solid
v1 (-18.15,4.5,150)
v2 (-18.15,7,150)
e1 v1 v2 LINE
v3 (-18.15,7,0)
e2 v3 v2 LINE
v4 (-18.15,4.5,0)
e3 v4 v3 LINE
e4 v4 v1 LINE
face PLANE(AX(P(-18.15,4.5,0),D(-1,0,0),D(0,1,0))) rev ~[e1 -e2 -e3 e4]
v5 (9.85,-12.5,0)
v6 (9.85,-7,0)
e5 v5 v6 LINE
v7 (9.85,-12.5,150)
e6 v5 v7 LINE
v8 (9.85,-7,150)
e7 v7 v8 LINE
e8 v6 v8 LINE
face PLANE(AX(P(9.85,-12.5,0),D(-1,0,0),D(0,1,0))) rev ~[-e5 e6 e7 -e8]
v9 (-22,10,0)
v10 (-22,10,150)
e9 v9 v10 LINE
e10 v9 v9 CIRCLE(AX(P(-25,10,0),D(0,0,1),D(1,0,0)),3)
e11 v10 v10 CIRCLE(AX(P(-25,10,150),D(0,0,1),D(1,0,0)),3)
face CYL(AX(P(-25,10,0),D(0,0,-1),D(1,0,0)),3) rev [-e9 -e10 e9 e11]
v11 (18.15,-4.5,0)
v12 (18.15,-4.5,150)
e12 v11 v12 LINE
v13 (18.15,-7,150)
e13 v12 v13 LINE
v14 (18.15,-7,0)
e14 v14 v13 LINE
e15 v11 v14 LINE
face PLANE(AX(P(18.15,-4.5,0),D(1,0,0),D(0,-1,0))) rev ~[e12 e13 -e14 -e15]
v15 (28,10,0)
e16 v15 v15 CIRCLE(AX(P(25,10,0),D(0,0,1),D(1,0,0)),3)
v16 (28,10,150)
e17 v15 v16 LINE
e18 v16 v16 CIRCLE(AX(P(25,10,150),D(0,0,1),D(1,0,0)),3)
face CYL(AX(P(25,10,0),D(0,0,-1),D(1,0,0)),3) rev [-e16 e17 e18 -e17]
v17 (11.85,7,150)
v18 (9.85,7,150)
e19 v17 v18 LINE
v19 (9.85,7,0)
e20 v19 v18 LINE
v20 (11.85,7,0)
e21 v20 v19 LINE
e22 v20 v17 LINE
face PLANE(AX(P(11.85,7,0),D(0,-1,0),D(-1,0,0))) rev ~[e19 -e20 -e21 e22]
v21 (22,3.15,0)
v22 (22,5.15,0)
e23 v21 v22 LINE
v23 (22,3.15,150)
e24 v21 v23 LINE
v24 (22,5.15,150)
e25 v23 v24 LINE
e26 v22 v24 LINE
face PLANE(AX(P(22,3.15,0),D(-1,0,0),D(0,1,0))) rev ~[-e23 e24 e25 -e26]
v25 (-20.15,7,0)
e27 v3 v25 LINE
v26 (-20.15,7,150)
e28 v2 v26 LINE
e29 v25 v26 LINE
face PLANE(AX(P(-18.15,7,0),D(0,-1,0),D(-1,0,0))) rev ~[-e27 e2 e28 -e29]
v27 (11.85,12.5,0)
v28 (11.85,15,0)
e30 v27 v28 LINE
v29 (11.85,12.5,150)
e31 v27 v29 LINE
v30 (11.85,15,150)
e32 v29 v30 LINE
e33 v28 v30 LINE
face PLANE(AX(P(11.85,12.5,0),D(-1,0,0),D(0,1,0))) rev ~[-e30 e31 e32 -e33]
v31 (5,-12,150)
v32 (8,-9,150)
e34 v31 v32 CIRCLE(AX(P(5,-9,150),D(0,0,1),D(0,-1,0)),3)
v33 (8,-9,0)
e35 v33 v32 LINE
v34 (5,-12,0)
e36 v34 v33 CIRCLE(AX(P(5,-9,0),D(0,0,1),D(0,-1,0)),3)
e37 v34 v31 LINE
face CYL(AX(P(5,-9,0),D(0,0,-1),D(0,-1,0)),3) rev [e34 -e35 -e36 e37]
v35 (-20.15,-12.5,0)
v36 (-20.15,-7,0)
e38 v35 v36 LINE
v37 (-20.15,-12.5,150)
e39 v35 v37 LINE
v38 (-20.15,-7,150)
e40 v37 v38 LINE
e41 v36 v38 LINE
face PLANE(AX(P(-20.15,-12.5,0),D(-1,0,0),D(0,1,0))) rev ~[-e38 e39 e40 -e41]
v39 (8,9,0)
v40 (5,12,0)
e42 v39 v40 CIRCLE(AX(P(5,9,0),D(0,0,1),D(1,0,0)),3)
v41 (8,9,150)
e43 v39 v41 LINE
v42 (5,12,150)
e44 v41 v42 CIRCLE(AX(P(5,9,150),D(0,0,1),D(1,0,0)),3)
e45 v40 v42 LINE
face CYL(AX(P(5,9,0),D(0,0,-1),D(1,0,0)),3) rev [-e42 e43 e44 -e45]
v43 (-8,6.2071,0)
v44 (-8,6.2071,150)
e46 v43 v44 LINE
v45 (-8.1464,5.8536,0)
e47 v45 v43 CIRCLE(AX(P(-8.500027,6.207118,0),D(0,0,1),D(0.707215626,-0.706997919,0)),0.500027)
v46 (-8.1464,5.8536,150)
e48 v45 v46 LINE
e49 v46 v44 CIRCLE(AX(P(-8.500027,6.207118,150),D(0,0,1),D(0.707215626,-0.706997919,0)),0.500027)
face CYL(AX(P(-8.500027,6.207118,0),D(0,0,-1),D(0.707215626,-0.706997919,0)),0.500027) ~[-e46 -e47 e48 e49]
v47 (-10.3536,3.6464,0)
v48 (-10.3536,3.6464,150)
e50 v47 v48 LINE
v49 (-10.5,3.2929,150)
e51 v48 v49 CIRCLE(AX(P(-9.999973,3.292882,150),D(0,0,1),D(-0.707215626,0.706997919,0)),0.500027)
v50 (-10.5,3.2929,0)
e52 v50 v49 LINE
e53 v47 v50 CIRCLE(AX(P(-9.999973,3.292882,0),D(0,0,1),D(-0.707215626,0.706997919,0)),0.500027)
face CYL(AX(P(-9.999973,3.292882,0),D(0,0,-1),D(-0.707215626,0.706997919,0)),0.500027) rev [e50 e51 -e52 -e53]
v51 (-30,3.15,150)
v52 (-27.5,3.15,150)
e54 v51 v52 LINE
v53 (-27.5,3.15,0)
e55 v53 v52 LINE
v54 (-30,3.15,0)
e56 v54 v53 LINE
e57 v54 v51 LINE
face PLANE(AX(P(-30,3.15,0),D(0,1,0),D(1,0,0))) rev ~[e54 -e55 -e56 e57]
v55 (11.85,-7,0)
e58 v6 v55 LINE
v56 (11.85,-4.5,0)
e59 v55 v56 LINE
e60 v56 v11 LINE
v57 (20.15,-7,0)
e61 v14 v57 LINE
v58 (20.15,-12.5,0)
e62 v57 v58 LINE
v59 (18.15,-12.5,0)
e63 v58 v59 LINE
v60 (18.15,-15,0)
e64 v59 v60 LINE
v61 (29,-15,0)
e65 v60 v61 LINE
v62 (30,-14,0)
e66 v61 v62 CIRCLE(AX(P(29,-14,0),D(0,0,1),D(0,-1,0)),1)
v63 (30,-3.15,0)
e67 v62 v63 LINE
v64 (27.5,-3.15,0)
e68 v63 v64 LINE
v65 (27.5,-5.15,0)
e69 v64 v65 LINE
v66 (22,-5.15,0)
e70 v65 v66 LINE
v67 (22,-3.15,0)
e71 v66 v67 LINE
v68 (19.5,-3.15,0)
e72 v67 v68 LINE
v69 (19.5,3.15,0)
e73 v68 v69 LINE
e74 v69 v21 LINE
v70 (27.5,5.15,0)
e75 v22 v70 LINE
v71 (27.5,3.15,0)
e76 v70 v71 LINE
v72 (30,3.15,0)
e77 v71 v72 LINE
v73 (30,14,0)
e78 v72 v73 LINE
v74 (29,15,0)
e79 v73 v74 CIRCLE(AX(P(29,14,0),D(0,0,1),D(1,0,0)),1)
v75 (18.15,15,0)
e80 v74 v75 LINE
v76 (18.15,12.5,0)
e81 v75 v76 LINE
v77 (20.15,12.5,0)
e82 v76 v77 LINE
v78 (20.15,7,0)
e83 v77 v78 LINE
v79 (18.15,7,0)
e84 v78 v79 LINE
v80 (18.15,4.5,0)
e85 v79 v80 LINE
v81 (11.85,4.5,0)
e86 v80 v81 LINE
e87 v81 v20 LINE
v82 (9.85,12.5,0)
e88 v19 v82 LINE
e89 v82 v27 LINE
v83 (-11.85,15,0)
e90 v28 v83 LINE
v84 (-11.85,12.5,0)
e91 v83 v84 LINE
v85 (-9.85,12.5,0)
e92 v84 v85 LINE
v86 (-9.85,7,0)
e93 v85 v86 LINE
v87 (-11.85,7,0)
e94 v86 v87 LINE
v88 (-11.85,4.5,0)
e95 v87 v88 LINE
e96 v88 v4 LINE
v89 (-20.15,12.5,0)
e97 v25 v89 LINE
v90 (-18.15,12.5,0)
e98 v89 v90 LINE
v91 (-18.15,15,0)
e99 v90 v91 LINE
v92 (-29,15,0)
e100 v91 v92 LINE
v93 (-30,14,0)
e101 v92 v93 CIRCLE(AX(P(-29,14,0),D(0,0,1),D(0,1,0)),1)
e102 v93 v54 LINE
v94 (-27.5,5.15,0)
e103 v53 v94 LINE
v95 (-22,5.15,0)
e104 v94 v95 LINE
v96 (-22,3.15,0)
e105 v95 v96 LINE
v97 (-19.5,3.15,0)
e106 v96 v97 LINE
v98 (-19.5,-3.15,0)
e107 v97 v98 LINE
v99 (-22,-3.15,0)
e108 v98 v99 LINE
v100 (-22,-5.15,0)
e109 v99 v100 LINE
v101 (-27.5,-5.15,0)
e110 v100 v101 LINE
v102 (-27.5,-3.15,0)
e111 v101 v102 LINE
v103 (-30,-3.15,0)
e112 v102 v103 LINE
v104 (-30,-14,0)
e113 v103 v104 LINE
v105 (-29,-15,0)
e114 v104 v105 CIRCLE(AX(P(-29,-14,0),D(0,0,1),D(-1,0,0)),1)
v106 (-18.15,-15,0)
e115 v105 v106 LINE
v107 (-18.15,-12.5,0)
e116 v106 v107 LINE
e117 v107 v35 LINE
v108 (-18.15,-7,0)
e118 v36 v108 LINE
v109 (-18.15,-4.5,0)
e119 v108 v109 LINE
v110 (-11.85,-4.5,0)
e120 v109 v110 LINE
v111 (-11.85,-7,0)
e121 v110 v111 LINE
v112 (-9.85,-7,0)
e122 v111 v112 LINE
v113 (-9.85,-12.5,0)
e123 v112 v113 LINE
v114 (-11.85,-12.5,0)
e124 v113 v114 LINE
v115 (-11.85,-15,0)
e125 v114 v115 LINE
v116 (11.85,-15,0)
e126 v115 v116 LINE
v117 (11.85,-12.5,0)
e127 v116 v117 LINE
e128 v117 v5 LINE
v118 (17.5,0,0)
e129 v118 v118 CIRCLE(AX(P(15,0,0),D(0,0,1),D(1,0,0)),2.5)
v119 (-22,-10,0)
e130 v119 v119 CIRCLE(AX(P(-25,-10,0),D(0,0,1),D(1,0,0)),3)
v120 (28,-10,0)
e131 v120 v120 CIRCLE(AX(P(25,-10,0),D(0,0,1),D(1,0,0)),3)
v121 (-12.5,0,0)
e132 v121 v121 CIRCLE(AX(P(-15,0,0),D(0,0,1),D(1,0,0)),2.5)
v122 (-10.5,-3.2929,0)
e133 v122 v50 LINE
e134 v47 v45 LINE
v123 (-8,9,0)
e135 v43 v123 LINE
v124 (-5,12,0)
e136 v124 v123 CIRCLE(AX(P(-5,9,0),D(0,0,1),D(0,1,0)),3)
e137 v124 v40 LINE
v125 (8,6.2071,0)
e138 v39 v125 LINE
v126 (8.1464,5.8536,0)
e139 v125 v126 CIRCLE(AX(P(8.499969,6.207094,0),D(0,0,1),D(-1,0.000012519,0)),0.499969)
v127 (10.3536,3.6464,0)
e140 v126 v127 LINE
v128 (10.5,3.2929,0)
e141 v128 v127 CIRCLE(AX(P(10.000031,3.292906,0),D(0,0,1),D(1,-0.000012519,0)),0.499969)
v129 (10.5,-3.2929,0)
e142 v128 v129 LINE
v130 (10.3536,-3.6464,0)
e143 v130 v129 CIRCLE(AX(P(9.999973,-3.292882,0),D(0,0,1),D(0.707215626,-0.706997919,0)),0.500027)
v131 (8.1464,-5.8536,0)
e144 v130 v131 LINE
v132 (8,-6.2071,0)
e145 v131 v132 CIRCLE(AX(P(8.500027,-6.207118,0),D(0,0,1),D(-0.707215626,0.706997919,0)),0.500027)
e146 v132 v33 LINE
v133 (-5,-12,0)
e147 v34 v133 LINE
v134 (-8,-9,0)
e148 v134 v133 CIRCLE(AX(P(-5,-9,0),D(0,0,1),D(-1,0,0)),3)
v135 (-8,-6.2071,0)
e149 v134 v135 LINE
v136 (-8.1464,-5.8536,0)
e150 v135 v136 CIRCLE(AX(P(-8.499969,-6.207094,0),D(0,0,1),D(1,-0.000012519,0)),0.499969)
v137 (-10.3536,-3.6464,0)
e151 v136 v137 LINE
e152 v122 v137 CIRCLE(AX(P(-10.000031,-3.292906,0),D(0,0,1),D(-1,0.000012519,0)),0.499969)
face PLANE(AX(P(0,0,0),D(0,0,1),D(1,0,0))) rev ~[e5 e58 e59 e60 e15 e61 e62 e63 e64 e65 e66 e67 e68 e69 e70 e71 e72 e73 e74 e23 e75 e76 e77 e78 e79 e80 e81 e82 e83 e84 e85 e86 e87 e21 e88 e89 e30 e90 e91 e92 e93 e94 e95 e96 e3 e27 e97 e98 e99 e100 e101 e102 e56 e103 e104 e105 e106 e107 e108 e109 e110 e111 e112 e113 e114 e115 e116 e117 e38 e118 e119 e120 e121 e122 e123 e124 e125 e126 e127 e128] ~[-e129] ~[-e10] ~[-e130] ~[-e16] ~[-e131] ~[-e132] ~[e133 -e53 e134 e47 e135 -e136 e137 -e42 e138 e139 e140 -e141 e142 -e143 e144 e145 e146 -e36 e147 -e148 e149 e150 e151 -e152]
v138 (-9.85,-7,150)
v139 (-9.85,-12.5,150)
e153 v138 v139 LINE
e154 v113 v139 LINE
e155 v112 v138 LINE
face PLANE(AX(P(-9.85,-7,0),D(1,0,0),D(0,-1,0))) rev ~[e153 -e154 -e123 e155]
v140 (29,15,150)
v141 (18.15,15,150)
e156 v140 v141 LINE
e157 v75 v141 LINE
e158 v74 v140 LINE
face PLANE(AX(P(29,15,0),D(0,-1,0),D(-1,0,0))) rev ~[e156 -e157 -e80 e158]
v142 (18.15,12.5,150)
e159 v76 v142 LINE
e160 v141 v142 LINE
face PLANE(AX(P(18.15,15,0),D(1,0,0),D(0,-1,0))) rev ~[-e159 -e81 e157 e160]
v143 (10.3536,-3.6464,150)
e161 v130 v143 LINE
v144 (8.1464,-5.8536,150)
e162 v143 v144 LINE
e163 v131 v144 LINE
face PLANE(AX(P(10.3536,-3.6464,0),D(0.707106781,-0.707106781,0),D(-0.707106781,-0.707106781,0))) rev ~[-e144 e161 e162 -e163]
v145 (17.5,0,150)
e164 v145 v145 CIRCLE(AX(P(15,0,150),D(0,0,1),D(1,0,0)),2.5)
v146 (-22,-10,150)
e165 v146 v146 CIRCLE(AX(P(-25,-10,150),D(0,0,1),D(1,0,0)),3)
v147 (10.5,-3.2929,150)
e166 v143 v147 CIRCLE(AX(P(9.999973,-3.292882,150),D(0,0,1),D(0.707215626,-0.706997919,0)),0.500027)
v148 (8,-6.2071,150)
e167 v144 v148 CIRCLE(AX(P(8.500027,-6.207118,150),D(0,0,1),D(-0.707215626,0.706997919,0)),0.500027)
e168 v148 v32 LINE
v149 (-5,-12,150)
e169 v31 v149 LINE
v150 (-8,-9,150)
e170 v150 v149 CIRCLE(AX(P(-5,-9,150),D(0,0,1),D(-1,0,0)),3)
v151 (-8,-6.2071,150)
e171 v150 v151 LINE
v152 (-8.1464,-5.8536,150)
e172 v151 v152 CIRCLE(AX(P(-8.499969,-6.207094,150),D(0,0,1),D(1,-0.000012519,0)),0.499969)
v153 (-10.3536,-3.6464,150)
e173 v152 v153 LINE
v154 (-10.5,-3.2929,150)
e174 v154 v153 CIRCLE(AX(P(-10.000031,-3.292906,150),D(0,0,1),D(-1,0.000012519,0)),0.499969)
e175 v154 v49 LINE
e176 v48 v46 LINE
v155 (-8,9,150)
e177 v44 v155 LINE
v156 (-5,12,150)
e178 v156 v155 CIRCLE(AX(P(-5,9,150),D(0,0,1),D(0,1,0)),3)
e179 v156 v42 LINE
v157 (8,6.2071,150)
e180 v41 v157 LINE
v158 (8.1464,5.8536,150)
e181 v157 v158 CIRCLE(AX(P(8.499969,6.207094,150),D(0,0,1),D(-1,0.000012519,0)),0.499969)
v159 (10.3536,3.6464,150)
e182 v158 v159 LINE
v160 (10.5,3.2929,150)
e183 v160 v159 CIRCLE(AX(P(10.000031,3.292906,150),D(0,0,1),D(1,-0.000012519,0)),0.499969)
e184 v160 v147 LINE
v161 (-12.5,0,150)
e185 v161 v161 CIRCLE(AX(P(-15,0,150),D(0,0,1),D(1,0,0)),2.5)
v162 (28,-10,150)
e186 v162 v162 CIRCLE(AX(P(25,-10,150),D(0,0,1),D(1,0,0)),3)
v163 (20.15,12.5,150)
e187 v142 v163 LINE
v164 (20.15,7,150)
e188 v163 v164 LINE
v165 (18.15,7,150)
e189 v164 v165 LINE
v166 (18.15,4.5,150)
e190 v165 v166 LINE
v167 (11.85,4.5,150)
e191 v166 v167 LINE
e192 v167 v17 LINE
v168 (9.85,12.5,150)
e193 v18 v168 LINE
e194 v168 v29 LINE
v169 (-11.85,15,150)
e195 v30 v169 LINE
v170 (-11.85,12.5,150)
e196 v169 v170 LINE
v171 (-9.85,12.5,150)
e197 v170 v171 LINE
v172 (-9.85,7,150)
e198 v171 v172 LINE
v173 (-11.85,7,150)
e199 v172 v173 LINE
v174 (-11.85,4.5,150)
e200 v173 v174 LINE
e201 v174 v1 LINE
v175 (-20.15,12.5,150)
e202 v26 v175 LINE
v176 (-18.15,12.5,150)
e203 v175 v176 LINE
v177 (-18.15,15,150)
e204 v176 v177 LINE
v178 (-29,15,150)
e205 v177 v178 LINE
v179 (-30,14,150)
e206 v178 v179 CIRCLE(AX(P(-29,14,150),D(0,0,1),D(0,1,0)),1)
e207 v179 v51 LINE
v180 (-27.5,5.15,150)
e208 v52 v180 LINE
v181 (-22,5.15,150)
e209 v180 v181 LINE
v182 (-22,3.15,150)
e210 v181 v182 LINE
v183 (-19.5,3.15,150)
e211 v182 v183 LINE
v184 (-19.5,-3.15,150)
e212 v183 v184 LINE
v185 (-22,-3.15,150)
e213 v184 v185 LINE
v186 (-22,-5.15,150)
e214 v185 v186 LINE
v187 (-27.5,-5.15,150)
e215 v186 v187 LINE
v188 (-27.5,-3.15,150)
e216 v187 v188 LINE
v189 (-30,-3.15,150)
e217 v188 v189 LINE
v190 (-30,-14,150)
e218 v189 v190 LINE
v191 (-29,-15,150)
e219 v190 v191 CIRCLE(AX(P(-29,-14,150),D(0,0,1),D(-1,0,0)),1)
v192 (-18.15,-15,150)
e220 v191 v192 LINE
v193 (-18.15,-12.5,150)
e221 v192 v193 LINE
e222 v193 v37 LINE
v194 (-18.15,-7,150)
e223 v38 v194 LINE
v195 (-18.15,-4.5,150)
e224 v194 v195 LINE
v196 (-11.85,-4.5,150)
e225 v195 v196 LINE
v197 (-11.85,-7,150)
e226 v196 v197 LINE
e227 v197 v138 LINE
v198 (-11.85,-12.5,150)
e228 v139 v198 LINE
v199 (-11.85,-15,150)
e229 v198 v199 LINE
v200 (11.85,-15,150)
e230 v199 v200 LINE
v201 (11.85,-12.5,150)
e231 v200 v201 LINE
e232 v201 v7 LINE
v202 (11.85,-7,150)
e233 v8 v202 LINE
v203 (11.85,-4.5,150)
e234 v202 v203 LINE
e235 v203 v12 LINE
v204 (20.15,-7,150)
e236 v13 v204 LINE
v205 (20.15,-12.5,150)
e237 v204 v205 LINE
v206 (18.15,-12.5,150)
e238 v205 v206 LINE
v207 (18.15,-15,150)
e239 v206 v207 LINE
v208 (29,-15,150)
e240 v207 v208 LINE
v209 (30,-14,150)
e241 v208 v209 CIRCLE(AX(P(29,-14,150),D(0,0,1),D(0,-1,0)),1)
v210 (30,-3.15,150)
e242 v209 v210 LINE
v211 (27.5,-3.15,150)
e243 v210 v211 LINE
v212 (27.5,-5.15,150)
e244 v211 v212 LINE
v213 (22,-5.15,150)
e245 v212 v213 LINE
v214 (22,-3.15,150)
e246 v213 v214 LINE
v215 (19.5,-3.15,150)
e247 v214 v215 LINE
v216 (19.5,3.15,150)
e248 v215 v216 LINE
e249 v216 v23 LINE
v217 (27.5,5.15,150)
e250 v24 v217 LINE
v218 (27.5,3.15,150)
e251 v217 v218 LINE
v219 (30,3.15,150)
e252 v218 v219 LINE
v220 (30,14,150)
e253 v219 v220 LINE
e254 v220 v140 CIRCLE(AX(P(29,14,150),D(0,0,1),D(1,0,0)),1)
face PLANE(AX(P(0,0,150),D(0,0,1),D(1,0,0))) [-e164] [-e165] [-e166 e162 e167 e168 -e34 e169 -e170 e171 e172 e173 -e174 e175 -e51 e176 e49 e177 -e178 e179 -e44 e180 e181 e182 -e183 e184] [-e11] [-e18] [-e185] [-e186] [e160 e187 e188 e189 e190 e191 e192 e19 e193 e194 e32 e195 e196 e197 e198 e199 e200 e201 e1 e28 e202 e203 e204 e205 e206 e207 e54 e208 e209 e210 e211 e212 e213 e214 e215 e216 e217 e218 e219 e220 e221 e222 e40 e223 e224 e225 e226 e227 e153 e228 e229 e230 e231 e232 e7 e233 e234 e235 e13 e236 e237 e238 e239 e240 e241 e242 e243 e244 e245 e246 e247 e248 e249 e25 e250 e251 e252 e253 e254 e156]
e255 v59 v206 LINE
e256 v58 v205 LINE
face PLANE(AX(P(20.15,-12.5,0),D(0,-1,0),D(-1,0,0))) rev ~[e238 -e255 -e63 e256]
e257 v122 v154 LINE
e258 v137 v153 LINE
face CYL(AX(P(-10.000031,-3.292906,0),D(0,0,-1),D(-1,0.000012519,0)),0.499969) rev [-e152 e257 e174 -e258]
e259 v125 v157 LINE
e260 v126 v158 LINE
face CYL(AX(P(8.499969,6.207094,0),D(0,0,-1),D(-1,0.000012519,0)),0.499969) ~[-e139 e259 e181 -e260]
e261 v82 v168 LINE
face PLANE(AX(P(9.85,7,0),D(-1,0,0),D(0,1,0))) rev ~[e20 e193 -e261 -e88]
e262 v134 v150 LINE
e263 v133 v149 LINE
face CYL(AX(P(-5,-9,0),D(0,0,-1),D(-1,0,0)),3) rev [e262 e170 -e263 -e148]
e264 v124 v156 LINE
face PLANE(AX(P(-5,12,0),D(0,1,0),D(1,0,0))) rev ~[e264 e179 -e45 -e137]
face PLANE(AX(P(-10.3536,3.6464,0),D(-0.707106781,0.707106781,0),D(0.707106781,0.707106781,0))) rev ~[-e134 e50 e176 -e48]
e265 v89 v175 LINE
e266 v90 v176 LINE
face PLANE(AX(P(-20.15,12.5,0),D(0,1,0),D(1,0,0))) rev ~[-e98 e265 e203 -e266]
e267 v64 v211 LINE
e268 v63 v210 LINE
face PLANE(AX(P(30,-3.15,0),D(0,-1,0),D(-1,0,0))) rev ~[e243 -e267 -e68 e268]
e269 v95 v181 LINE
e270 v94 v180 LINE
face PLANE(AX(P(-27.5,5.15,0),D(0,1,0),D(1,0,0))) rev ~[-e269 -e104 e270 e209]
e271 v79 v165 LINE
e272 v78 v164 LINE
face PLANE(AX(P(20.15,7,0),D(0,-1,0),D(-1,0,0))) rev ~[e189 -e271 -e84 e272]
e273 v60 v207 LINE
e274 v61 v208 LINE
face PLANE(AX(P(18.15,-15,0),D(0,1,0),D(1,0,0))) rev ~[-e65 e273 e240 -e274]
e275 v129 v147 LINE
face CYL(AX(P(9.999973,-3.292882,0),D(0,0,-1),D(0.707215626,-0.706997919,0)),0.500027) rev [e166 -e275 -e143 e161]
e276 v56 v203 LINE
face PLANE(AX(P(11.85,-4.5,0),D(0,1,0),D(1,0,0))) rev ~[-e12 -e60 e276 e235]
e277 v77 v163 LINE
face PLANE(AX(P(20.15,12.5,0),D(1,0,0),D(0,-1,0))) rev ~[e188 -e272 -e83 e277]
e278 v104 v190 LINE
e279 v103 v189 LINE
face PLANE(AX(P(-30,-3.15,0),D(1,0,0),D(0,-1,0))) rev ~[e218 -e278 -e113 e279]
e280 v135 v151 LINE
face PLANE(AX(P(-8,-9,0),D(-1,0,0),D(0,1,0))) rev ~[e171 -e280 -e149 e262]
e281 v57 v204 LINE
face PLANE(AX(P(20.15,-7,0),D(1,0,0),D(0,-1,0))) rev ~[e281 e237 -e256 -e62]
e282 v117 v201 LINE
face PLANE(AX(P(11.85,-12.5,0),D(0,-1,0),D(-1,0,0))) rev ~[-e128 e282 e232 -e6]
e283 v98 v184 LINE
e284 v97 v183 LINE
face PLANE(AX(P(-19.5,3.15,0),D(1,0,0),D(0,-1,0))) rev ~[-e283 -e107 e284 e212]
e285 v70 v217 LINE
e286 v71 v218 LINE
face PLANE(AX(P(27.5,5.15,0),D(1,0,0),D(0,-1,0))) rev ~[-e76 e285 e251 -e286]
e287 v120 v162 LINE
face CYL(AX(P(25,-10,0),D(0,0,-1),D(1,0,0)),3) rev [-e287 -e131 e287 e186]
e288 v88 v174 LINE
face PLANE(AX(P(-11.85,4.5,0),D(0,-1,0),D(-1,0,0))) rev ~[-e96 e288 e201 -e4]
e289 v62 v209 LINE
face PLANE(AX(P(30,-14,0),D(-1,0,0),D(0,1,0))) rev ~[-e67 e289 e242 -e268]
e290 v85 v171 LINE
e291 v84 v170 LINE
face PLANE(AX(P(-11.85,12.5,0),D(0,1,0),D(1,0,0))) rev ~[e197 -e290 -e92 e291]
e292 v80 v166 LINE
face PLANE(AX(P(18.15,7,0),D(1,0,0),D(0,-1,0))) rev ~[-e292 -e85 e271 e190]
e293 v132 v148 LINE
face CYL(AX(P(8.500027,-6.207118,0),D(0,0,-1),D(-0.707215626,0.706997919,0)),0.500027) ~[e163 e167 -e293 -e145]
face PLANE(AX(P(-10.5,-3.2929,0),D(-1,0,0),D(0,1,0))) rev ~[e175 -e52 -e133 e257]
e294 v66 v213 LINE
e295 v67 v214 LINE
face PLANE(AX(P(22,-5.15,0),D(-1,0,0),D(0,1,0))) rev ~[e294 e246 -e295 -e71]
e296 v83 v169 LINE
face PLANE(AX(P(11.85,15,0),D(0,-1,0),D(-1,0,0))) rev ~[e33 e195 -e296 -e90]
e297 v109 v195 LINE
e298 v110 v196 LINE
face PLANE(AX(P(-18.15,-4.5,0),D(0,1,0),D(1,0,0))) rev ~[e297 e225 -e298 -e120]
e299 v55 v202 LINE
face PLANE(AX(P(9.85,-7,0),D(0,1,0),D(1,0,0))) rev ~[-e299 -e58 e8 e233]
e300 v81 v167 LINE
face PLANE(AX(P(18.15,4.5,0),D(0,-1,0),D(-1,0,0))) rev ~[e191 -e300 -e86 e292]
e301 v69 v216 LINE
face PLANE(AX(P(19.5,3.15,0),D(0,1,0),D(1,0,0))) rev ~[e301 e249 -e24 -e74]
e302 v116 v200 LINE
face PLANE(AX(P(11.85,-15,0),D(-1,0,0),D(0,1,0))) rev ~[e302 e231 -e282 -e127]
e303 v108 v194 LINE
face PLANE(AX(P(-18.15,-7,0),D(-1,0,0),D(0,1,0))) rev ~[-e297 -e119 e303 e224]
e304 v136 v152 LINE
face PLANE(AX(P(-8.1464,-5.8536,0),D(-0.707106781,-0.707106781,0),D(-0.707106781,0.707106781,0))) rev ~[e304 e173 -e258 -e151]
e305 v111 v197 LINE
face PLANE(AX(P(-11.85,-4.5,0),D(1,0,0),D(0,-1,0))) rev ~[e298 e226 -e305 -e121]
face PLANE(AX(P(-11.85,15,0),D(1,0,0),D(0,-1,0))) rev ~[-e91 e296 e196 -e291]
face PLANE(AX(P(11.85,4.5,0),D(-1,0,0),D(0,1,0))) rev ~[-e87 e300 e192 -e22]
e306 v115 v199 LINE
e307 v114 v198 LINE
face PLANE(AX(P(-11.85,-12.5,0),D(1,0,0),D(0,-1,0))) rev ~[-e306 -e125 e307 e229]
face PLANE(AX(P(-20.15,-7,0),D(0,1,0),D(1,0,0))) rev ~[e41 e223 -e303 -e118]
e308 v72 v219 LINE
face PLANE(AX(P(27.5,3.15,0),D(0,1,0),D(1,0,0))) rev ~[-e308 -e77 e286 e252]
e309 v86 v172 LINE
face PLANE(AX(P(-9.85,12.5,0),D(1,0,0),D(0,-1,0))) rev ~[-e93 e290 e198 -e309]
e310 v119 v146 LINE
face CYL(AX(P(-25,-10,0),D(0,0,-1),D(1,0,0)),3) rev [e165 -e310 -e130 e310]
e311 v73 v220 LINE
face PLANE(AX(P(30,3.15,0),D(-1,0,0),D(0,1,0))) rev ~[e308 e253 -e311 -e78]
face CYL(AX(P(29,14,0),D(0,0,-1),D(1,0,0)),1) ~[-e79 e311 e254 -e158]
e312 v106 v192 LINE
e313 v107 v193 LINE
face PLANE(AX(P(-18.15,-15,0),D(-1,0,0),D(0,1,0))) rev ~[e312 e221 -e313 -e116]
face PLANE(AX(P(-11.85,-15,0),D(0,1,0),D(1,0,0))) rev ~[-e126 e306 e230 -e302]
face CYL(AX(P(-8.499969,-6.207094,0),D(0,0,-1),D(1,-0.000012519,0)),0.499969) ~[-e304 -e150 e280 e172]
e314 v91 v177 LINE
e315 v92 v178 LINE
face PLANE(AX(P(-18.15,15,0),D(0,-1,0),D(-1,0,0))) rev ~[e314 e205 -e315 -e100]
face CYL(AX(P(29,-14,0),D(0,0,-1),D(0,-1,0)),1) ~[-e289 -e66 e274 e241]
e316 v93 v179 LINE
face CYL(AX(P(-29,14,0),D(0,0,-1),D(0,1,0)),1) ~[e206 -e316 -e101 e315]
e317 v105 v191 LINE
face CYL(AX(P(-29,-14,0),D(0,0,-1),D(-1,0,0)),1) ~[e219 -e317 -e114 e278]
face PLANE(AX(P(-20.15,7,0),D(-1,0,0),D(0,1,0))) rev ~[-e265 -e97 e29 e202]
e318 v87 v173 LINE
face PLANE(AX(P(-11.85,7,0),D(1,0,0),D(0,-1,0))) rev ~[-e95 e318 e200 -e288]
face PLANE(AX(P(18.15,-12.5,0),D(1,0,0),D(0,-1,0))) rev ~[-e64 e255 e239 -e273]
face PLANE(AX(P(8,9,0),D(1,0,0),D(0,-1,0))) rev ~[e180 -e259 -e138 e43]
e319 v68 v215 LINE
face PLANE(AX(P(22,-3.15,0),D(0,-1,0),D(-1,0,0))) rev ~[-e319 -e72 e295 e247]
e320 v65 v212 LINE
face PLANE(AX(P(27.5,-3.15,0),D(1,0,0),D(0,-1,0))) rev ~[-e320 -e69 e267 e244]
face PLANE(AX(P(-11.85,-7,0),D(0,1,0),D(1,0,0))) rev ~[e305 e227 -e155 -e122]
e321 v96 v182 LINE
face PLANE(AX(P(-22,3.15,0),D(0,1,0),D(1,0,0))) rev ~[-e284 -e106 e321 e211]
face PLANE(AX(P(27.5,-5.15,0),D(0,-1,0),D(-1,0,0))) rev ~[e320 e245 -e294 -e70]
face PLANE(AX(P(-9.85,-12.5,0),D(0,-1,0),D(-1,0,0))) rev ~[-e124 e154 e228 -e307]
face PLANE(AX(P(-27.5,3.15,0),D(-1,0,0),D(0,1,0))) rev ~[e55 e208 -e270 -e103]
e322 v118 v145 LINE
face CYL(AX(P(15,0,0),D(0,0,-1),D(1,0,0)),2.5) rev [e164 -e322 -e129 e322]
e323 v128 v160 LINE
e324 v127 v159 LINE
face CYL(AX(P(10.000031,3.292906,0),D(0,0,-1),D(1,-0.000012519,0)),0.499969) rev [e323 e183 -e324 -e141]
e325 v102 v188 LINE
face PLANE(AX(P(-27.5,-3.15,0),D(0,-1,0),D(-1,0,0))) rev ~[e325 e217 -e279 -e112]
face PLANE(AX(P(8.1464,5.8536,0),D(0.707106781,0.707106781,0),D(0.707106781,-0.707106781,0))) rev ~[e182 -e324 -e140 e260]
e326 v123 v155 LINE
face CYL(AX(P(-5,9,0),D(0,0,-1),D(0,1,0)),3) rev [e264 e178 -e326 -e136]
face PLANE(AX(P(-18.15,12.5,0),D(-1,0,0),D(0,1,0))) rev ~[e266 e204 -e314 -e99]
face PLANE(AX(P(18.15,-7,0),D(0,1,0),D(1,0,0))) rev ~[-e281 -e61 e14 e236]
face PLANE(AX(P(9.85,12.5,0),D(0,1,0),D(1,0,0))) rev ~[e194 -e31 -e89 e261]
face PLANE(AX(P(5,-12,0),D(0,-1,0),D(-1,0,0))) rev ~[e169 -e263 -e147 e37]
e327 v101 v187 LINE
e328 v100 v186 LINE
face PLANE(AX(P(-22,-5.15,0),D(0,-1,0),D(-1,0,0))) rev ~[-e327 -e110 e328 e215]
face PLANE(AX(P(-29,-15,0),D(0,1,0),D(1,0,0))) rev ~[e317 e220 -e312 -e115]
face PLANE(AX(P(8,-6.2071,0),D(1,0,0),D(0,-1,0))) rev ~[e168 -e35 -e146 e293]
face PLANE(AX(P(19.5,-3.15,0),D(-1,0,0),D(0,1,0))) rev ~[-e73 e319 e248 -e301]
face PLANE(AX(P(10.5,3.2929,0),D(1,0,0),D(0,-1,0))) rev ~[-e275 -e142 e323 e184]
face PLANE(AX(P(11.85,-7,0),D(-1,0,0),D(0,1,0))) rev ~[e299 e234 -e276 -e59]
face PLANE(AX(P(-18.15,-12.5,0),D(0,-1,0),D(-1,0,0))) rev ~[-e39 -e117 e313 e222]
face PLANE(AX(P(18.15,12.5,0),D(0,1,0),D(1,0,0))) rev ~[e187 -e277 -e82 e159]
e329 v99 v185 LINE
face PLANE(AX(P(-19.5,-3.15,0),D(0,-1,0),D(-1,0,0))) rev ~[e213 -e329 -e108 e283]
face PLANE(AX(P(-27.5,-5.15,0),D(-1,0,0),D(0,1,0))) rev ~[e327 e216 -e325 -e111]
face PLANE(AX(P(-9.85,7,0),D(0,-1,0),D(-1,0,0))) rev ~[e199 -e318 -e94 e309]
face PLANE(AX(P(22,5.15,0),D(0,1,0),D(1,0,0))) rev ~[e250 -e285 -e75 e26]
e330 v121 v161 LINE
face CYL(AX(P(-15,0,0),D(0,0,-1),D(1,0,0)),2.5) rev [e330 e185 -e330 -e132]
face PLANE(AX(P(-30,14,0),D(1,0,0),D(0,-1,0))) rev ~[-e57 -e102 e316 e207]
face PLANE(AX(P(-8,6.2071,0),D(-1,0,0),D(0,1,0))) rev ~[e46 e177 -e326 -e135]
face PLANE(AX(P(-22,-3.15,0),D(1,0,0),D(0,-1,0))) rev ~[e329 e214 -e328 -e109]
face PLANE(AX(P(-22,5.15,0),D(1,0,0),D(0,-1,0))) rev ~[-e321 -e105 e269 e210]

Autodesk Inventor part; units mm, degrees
ref_plane "YZ Plane" through (0, 0, 0) normal (1, 0, 0) x (0, 1, 0)
ref_plane "XZ Plane" through (0, 0, 0) normal (0, 1, 0) x (-1, 0, 0)
ref_plane "XY Plane" through (0, 0, 0) normal (0, 0, 1) x (1, 0, 0)
feature "ソリッド1" [suppressed]
sketch "スケッチ2" plane through (0, 0, 0) normal (0, 0, 1) x (1, 0, 0)
  line L0 (9.85, -12.5) -> (9.85, -7) projected
  line L1 (9.85, -7) -> (11.85, -7) projected
  line L2 (11.85, -7) -> (11.85, -4.5) projected
  line L3 (11.85, -4.5) -> (18.15, -4.5) projected
  line L4 (18.15, -4.5) -> (18.15, -7) projected
  line L5 (18.15, -7) -> (20.15, -7) projected
  line L6 (20.15, -7) -> (20.15, -12.5) projected
  line L7 (20.15, -12.5) -> (18.15, -12.5) projected
  line L8 (18.15, -12.5) -> (18.15, -15) projected
  line L9 (18.15, -15) -> (29, -15) projected
  arc A0 (29, -15) -> (30, -14) centre (29, -14) ccw projected
  line L10 (30, -14) -> (30, -3.15) projected
  line L11 (30, -3.15) -> (27.5, -3.15) projected
  line L12 (27.5, -3.15) -> (27.5, -5.15) projected
  line L13 (27.5, -5.15) -> (22, -5.15) projected
  line L14 (22, -5.15) -> (22, -3.15) projected
  line L15 (22, -3.15) -> (19.5, -3.15) projected
  line L16 (19.5, -3.15) -> (19.5, 3.15) projected
  line L17 (19.5, 3.15) -> (22, 3.15) projected
  line L18 (22, 3.15) -> (22, 5.15) projected
  line L19 (22, 5.15) -> (27.5, 5.15) projected
  line L20 (27.5, 5.15) -> (27.5, 3.15) projected
  line L21 (27.5, 3.15) -> (30, 3.15) projected
  line L22 (30, 3.15) -> (30, 14) projected
  arc A1 (30, 14) -> (29, 15) centre (29, 14) ccw projected
  line L23 (29, 15) -> (18.15, 15) projected
  line L24 (18.15, 15) -> (18.15, 12.5) projected
  line L25 (18.15, 12.5) -> (20.15, 12.5) projected
  line L26 (20.15, 12.5) -> (20.15, 7) projected
  line L27 (20.15, 7) -> (18.15, 7) projected
  line L28 (18.15, 7) -> (18.15, 4.5) projected
  line L29 (18.15, 4.5) -> (11.85, 4.5) projected
  line L30 (11.85, 4.5) -> (11.85, 7) projected
  line L31 (11.85, 7) -> (9.85, 7) projected
  line L32 (9.85, 7) -> (9.85, 12.5) projected
  line L33 (9.85, 12.5) -> (11.85, 12.5) projected
  line L34 (11.85, 12.5) -> (11.85, 15) projected
  line L35 (11.85, 15) -> (-11.85, 15) projected
  line L36 (-11.85, 15) -> (-11.85, 12.5) projected
  line L37 (-11.85, 12.5) -> (-9.85, 12.5) projected
  line L38 (-9.85, 12.5) -> (-9.85, 7) projected
  line L39 (-9.85, 7) -> (-11.85, 7) projected
  line L40 (-11.85, 7) -> (-11.85, 4.5) projected
  line L41 (-11.85, 4.5) -> (-18.15, 4.5) projected
  line L42 (-18.15, 4.5) -> (-18.15, 7) projected
  line L43 (-18.15, 7) -> (-20.15, 7) projected
  line L44 (-20.15, 7) -> (-20.15, 12.5) projected
  line L45 (-20.15, 12.5) -> (-18.15, 12.5) projected
  line L46 (-18.15, 12.5) -> (-18.15, 15) projected
  line L47 (-18.15, 15) -> (-29, 15) projected
  arc A2 (-29, 15) -> (-30, 14) centre (-29, 14) ccw projected
  line L48 (-30, 14) -> (-30, 3.15) projected
  line L49 (-30, 3.15) -> (-27.5, 3.15) projected
  line L50 (-27.5, 3.15) -> (-27.5, 5.15) projected
  line L51 (-27.5, 5.15) -> (-22, 5.15) projected
  line L52 (-22, 5.15) -> (-22, 3.15) projected
  line L53 (-22, 3.15) -> (-19.5, 3.15) projected
  line L54 (-19.5, 3.15) -> (-19.5, -3.15) projected
  line L55 (-19.5, -3.15) -> (-22, -3.15) projected
  line L56 (-22, -3.15) -> (-22, -5.15) projected
  line L57 (-22, -5.15) -> (-27.5, -5.15) projected
  line L58 (-27.5, -5.15) -> (-27.5, -3.15) projected
  line L59 (-27.5, -3.15) -> (-30, -3.15) projected
  line L60 (-30, -3.15) -> (-30, -14) projected
  arc A3 (-30, -14) -> (-29, -15) centre (-29, -14) ccw projected
  line L61 (-29, -15) -> (-18.15, -15) projected
  line L62 (-18.15, -15) -> (-18.15, -12.5) projected
  line L63 (-18.15, -12.5) -> (-20.15, -12.5) projected
  line L64 (-20.15, -12.5) -> (-20.15, -7) projected
  line L65 (-20.15, -7) -> (-18.15, -7) projected
  line L66 (-18.15, -7) -> (-18.15, -4.5) projected
  line L67 (-18.15, -4.5) -> (-11.85, -4.5) projected
  line L68 (-11.85, -4.5) -> (-11.85, -7) projected
  line L69 (-11.85, -7) -> (-9.85, -7) projected
  line L70 (-9.85, -7) -> (-9.85, -12.5) projected
  line L71 (-9.85, -12.5) -> (-11.85, -12.5) projected
  line L72 (-11.85, -12.5) -> (-11.85, -15) projected
  line L73 (-11.85, -15) -> (11.85, -15) projected
  line L74 (11.85, -15) -> (11.85, -12.5) projected
  line L75 (11.85, -12.5) -> (9.85, -12.5) projected
  arc A4 (-8, -9) -> (-5, -12) centre (-5, -9) ccw projected
  line L76 (-8, -9) -> (-8, -6.2071) projected
  arc A5 (-8, -6.2071) -> (-8.1464, -5.8536) centre (-8.5, -6.2071) ccw projected
  line L77 (-8.1464, -5.8536) -> (-10.3536, -3.6464) projected
  arc A6 (-10.5, -3.2929) -> (-10.3536, -3.6464) centre (-10, -3.2929) ccw projected
  line L78 (-10.5, -3.2929) -> (-10.5, 3.2929) projected
  arc A7 (-10.3536, 3.6464) -> (-10.5, 3.2929) centre (-10, 3.2929) ccw projected
  line L79 (-10.3536, 3.6464) -> (-8.1464, 5.8536) projected
  arc A8 (-8.1464, 5.8536) -> (-8, 6.2071) centre (-8.5, 6.2071) ccw projected
  line L80 (-8, 6.2071) -> (-8, 9) projected
  arc A9 (-5, 12) -> (-8, 9) centre (-5, 9) ccw projected
  line L81 (-5, 12) -> (5, 12) projected
  arc A10 (8, 9) -> (5, 12) centre (5, 9) ccw projected
  line L82 (8, 9) -> (8, 6.2071) projected
  arc A11 (8, 6.2071) -> (8.1464, 5.8536) centre (8.5, 6.2071) ccw projected
  line L83 (8.1464, 5.8536) -> (10.3536, 3.6464) projected
  arc A12 (10.5, 3.2929) -> (10.3536, 3.6464) centre (10, 3.2929) ccw projected
  line L84 (10.5, 3.2929) -> (10.5, -3.2929) projected
  arc A13 (10.3536, -3.6464) -> (10.5, -3.2929) centre (10, -3.2929) ccw projected
  line L85 (10.3536, -3.6464) -> (8.1464, -5.8536) projected
  arc A14 (8.1464, -5.8536) -> (8, -6.2071) centre (8.5, -6.2071) ccw projected
  line L86 (8, -6.2071) -> (8, -9) projected
  arc A15 (5, -12) -> (8, -9) centre (5, -9) ccw projected
  line L87 (5, -12) -> (-5, -12) projected
  circle A16 centre (25, 10) radius 3 projected
  circle A17 centre (-25, -10) radius 3 projected
  circle A18 centre (-25, 10) radius 3 projected
  circle A19 centre (25, -10) radius 3 projected
  circle A20 centre (15, 0) radius 2.5 projected
  circle A21 centre (-15, 0) radius 2.5 projected
  point P0 (0, 0)
extrude "押し出し1" add sketch "スケッチ2" along normal blind 150
equation "\"d1\" = L"
equation "\"L\" = 150"
properties part number "AFS-3060-200"
